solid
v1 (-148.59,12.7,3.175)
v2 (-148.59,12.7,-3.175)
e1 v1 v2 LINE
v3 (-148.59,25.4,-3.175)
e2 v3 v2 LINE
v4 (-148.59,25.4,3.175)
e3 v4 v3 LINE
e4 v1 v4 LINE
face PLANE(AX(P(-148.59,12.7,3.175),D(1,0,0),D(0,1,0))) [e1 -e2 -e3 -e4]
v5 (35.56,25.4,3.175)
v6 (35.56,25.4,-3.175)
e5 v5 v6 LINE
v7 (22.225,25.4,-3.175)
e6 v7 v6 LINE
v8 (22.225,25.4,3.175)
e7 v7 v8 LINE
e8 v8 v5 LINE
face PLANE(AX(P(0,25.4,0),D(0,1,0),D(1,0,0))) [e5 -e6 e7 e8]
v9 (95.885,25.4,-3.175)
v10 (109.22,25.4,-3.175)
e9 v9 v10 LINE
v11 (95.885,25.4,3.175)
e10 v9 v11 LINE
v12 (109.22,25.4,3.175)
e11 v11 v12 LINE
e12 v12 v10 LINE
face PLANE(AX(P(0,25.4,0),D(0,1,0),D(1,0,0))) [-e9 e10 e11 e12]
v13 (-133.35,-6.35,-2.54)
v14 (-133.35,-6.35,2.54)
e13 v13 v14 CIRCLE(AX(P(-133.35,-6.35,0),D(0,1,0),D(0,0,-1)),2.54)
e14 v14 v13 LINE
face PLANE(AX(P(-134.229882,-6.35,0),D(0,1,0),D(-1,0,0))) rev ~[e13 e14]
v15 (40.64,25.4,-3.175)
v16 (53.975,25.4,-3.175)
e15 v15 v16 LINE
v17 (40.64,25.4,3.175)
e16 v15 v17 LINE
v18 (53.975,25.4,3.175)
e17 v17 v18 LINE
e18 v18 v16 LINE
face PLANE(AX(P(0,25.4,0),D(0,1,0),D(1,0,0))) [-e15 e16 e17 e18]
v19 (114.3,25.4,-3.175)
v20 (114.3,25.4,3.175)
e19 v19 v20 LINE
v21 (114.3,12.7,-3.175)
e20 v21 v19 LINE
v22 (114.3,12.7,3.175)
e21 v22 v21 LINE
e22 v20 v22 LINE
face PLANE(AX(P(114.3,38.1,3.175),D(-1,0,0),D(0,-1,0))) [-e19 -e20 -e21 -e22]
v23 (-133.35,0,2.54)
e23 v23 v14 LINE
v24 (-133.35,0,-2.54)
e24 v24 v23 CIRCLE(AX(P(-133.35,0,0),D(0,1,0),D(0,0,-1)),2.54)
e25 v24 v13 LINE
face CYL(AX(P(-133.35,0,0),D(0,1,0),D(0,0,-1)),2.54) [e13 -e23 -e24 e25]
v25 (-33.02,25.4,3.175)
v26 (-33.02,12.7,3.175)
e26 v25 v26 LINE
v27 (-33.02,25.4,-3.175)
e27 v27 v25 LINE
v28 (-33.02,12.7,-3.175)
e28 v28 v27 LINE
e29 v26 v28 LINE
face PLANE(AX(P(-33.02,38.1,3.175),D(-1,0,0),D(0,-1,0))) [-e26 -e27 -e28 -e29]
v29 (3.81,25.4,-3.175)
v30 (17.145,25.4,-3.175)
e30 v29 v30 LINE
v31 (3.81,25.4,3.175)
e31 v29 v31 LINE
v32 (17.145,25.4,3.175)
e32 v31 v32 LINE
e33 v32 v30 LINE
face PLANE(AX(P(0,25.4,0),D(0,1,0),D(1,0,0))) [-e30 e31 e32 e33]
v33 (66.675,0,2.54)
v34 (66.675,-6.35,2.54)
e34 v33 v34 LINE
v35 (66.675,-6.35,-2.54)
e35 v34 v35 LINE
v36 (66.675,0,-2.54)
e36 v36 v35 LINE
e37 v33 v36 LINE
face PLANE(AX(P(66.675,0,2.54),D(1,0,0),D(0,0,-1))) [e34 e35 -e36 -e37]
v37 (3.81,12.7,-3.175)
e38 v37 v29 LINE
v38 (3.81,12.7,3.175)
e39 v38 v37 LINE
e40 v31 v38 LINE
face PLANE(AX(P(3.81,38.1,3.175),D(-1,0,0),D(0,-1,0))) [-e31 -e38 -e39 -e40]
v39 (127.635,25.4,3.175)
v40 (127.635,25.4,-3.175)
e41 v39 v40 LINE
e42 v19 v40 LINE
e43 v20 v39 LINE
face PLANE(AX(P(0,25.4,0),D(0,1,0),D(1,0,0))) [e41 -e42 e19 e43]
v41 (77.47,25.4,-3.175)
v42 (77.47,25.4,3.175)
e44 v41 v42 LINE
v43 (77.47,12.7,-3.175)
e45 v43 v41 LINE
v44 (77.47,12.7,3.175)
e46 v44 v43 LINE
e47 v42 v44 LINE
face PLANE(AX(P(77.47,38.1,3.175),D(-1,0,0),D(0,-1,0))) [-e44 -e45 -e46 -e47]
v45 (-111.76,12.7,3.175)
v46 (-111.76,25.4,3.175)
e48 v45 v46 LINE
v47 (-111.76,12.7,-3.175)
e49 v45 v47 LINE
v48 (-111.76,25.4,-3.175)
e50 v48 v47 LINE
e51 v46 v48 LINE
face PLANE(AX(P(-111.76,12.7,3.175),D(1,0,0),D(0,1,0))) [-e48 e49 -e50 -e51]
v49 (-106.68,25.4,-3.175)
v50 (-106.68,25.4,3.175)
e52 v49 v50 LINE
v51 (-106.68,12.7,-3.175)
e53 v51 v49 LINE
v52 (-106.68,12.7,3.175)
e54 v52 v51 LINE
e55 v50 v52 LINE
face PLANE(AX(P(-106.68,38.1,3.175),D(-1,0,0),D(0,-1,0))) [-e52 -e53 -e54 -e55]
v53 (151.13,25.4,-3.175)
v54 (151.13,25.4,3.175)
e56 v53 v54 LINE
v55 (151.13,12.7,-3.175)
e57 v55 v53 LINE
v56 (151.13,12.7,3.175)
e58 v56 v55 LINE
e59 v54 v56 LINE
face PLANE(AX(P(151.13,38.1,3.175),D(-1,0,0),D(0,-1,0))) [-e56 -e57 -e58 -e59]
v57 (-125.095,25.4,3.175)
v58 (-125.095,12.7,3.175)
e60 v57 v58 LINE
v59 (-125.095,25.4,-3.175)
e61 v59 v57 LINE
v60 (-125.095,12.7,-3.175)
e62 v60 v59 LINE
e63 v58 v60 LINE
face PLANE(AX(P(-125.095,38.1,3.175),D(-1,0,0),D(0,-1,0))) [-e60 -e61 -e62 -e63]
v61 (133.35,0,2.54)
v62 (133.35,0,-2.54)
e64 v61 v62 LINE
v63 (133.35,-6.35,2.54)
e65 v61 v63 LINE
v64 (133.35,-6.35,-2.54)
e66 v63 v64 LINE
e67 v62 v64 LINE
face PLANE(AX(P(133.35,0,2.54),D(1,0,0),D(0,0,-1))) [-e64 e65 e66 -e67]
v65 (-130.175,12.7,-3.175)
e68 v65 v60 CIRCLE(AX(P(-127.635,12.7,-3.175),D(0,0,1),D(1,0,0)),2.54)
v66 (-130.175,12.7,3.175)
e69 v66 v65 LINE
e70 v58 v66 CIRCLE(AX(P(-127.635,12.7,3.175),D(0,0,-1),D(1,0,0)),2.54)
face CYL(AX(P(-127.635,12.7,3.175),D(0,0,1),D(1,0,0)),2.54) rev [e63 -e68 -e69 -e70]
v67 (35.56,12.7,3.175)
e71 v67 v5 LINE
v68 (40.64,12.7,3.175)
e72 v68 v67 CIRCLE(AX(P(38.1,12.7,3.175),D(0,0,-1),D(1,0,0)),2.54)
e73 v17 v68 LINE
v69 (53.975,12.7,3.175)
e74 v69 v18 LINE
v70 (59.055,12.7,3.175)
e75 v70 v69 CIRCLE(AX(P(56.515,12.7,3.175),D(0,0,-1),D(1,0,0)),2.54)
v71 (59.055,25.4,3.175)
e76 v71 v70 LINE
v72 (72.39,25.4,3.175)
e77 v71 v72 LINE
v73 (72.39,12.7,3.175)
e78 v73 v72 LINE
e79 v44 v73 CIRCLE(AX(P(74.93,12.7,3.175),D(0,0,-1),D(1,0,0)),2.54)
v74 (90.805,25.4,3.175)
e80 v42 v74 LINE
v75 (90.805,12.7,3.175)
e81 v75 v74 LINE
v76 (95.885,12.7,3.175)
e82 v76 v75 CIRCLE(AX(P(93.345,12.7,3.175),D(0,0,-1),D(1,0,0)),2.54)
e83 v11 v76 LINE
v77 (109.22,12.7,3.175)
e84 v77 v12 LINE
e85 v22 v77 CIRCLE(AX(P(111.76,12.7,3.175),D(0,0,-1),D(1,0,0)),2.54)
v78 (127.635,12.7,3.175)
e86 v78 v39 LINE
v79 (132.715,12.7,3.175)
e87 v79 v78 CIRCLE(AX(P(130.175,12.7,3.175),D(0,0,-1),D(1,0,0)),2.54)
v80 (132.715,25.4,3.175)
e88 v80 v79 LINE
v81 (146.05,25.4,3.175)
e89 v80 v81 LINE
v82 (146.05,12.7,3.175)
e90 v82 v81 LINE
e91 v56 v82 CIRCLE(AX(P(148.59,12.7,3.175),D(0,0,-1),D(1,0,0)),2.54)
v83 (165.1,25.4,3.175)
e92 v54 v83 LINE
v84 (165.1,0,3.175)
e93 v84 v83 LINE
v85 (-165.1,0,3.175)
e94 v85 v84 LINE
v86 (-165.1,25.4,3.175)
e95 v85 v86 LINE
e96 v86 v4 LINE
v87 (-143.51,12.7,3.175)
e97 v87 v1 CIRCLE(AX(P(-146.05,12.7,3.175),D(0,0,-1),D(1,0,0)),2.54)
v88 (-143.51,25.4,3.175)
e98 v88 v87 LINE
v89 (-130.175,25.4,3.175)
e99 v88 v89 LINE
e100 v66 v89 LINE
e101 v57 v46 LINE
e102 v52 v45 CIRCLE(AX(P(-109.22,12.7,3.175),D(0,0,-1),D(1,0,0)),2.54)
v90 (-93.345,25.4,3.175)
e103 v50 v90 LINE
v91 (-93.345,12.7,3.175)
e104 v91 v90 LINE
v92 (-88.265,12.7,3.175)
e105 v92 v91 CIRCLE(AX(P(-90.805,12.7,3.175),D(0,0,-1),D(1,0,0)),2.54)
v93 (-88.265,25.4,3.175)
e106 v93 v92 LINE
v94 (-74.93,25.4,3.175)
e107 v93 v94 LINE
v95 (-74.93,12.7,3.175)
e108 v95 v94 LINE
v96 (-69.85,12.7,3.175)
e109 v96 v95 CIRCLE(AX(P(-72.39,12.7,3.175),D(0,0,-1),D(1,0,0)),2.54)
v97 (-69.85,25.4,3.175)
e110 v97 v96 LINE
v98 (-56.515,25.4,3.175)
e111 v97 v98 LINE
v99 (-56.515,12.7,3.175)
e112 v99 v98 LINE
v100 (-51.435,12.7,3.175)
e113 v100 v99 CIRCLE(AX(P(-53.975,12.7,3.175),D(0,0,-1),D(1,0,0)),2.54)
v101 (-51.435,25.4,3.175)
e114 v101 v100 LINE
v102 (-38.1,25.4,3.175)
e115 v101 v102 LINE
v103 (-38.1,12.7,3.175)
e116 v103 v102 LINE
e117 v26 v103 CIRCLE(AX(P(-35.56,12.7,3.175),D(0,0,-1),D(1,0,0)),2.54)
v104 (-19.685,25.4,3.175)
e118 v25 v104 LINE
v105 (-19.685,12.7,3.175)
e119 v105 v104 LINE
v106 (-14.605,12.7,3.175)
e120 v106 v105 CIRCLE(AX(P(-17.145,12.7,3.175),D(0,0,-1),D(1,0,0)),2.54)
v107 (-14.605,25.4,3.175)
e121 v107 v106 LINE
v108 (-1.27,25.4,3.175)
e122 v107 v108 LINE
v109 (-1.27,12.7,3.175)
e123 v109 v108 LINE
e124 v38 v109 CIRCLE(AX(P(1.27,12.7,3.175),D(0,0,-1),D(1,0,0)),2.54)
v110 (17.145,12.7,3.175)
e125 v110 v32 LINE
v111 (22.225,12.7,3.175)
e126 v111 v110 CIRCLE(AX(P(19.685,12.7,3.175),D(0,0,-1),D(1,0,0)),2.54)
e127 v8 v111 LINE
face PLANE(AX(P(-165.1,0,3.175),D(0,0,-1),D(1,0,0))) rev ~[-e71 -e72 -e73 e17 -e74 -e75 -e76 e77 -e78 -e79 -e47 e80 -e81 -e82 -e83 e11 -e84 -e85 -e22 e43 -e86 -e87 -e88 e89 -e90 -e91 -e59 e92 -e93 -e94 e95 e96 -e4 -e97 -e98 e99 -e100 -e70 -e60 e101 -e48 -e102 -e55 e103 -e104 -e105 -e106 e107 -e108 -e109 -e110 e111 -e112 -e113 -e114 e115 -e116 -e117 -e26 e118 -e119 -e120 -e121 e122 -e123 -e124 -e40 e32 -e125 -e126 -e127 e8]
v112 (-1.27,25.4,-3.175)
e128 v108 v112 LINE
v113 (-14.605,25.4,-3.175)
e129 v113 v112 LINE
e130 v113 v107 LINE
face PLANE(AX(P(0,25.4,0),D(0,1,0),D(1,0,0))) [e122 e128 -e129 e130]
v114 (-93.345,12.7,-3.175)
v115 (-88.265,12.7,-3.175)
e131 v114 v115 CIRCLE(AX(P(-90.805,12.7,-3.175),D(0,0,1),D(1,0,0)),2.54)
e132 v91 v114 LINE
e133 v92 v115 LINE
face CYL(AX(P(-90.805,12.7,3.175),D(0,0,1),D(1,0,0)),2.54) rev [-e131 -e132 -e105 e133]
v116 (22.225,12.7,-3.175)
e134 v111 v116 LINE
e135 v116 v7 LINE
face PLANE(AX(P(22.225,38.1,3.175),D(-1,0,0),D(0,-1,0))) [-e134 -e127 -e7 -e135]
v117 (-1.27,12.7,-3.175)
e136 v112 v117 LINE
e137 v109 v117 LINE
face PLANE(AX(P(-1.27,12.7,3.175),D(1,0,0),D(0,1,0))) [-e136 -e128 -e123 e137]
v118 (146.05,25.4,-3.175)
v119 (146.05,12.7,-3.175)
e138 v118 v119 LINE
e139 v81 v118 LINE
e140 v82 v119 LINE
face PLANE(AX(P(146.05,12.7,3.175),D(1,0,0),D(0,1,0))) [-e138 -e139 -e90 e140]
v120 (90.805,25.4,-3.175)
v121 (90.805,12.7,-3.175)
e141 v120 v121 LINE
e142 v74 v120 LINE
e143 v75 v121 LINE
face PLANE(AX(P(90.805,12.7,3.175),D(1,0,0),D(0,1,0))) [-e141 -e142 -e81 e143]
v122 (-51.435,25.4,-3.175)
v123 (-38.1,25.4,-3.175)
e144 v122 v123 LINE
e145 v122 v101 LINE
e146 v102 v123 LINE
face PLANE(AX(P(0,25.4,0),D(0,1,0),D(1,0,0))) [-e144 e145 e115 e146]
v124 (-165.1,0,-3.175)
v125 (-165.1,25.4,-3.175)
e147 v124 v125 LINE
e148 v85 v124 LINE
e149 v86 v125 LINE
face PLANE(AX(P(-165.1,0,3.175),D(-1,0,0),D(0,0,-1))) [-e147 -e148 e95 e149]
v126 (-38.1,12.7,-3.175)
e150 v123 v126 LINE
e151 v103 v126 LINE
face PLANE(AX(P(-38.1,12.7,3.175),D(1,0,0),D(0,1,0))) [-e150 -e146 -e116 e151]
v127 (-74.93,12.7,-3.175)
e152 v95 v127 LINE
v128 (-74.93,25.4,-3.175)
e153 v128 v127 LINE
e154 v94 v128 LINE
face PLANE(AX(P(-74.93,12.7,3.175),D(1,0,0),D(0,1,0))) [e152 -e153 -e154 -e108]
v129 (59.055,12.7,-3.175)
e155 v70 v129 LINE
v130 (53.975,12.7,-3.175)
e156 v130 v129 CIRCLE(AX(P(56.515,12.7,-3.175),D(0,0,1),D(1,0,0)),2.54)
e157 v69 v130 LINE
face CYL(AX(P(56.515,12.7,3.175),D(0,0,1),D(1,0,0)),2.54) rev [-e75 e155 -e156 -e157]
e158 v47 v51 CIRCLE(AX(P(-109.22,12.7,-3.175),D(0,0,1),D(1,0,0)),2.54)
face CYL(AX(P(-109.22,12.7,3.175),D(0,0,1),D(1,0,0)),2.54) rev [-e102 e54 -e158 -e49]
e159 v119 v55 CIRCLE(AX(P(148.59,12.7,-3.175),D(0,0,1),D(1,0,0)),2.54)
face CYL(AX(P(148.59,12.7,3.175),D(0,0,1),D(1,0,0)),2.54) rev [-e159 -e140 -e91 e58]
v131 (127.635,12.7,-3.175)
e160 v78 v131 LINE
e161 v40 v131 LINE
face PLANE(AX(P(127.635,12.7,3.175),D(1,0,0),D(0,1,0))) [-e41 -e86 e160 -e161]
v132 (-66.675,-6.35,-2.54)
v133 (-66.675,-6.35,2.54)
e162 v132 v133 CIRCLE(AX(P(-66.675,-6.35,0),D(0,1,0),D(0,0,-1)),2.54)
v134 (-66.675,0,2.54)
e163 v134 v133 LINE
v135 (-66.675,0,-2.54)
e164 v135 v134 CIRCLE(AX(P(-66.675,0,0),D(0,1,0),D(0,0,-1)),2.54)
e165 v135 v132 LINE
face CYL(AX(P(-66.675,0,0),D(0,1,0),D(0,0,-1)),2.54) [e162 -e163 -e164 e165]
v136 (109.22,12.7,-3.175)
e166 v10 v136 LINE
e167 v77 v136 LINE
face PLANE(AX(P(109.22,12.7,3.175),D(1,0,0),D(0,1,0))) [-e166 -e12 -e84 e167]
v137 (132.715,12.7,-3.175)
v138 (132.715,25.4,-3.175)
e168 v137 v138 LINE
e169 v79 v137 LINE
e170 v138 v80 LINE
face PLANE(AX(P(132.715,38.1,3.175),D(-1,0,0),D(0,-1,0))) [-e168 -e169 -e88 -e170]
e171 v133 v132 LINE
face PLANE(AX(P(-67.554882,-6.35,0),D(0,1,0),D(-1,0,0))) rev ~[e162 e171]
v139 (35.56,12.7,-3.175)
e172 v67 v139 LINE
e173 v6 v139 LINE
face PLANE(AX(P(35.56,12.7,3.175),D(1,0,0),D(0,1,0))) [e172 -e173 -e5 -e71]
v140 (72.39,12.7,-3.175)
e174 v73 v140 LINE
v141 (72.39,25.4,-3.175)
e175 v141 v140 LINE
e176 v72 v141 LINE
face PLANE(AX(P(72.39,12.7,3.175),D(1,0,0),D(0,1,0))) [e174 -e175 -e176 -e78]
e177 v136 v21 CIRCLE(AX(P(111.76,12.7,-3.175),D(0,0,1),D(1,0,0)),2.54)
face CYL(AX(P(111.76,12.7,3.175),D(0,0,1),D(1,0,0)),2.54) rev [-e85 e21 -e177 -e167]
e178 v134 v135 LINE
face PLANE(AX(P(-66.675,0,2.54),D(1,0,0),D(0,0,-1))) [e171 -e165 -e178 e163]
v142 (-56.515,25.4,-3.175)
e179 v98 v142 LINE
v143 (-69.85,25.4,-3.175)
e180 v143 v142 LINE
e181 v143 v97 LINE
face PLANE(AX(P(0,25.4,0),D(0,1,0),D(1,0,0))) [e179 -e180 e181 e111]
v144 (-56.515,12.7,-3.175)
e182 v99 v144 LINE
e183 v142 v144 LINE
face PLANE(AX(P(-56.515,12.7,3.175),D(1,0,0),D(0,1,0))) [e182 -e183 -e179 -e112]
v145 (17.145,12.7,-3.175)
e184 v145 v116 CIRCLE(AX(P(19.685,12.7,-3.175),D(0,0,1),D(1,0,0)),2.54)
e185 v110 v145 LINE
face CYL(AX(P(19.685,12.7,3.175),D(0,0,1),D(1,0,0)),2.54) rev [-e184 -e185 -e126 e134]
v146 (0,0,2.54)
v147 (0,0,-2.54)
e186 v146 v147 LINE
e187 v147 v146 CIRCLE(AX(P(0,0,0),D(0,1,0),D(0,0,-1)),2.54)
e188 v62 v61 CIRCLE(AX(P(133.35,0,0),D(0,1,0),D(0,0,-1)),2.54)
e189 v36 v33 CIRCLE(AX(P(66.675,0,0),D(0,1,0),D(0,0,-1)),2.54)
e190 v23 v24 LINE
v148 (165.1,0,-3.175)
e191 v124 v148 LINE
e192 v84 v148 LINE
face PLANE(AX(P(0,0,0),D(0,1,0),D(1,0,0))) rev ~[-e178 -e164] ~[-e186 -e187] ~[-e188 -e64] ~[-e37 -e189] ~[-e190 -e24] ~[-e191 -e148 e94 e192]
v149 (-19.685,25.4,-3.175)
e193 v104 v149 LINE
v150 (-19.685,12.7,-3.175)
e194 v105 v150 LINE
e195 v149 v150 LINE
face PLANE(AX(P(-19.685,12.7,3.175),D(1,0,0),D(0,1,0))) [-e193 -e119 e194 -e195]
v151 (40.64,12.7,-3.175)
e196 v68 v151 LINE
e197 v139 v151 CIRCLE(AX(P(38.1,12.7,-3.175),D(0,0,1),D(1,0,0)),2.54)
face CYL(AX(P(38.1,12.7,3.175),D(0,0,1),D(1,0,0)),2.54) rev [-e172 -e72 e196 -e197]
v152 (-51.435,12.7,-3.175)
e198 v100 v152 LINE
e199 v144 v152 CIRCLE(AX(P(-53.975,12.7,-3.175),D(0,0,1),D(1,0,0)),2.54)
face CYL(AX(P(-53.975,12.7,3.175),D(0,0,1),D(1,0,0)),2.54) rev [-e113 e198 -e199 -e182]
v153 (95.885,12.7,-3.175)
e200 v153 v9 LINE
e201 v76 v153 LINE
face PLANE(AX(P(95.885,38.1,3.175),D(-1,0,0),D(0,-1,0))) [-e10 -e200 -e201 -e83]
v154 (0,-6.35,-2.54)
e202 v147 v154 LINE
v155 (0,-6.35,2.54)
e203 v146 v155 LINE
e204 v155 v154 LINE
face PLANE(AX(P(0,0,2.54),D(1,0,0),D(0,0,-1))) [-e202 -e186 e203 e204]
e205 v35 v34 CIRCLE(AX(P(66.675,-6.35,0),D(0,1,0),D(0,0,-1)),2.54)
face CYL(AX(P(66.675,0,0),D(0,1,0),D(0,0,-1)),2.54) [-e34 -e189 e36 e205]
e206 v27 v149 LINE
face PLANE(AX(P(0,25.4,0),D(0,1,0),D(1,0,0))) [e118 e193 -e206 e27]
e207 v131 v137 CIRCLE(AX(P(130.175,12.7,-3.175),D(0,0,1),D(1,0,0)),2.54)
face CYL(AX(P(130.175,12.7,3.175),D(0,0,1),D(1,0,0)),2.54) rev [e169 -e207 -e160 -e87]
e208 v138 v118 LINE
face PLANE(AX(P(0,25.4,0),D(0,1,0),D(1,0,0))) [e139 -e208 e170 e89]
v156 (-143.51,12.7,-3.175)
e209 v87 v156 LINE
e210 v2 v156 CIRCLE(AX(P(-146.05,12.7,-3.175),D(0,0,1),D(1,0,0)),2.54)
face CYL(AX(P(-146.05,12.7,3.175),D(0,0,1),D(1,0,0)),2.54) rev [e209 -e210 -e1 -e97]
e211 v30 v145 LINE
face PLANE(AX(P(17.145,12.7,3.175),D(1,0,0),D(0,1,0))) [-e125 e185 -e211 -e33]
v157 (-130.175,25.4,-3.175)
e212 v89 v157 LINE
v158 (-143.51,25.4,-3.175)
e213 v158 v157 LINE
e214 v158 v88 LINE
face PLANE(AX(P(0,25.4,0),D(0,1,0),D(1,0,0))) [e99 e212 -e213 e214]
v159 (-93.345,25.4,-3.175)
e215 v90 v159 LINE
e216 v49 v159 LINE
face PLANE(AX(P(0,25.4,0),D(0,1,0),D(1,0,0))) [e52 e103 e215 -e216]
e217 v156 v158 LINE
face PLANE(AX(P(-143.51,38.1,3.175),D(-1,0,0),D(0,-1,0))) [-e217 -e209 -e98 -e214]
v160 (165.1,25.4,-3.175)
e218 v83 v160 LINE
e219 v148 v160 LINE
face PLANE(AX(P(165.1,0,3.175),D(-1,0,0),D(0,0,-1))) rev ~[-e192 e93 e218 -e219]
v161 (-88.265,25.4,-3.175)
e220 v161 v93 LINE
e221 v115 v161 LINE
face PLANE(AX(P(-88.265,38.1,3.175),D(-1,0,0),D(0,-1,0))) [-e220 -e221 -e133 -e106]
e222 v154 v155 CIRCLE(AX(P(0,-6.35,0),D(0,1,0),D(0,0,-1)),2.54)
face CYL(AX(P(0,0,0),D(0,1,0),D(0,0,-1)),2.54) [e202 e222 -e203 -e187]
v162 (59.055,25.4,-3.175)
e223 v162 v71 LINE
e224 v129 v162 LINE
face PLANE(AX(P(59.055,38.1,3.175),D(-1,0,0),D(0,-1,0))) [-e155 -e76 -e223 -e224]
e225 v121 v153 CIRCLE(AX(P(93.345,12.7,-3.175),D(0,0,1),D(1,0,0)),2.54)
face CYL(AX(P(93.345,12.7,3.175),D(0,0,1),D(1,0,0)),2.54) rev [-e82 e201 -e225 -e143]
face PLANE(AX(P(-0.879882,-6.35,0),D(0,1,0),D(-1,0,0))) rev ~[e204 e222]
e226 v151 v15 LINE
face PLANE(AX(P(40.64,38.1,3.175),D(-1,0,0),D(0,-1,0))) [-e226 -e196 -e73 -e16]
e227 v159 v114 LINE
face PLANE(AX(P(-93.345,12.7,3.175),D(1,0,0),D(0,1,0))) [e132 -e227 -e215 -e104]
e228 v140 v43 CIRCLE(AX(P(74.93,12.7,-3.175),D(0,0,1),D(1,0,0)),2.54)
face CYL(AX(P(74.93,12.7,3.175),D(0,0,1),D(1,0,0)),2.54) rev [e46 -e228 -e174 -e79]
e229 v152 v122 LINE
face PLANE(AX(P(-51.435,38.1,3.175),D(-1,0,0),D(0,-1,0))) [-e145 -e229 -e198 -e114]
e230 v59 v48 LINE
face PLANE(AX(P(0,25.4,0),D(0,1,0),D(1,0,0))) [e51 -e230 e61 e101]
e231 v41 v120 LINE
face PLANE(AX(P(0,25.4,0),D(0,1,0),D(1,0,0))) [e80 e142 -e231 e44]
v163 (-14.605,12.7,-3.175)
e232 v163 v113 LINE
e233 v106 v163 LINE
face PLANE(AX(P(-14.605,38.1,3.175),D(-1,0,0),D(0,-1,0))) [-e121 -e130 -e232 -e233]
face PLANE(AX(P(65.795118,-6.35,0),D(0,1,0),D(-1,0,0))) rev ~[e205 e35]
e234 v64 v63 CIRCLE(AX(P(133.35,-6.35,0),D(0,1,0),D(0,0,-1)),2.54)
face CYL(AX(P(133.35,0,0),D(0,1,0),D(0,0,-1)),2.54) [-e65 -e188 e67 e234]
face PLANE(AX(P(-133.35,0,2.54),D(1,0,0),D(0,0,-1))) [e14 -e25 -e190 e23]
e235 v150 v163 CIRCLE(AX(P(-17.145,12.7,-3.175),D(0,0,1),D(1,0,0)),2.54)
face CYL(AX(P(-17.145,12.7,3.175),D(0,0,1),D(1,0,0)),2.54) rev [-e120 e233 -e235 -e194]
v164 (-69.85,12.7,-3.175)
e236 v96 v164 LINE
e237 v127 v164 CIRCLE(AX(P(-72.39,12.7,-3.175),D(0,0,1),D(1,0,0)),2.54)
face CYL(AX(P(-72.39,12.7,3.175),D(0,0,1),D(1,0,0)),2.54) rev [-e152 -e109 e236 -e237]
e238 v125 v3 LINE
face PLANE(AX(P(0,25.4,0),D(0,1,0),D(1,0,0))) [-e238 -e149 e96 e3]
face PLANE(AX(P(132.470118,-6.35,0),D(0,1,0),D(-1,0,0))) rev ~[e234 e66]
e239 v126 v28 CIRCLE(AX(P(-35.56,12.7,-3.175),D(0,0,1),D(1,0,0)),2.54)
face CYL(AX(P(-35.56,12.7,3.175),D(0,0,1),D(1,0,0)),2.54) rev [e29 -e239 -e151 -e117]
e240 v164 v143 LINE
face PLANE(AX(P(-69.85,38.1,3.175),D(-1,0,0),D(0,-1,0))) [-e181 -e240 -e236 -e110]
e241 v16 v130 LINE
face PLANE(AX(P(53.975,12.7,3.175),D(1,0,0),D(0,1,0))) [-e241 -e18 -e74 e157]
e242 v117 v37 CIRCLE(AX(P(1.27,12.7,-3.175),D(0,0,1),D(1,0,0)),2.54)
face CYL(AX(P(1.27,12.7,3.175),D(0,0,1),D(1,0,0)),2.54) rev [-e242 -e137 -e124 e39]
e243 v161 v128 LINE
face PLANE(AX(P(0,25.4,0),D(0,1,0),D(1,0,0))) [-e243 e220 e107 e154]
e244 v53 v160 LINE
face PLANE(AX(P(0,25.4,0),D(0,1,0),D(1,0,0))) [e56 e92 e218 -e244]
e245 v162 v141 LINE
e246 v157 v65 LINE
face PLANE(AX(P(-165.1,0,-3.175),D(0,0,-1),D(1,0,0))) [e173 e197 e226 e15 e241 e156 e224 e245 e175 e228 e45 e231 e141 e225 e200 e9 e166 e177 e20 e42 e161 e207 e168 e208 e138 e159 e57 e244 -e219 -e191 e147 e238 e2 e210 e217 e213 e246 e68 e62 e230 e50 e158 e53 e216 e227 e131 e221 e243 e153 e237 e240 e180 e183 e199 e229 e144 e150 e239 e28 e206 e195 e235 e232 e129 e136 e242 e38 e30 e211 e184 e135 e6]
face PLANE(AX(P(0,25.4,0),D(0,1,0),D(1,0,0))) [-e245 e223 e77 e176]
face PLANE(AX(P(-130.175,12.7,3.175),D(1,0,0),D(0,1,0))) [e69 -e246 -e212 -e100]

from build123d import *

# Parameters (mm, degrees)
SKETCH1_W           = 330.2
SKETCH1_H           = 6.35
BOSS_EXTRUDE1_DEPTH = 25.4
BOSS_EXTRUDE2_DEPTH = 6.35
CUT_EXTRUDE1_DEPTH  = 168.16307158


with BuildPart() as part:
    # Sketch1 → Boss-Extrude1 (new body)
    with BuildSketch(Plane(origin=(0, 0, 0), x_dir=(1, 0, 0), z_dir=(0, 1, 0))):
        Rectangle(SKETCH1_W, SKETCH1_H)
    extrude(amount=BOSS_EXTRUDE1_DEPTH)

    # Sketch2 → Boss-Extrude2 (add)
    with BuildSketch(Plane.XZ):
        with BuildLine():
            Line((-133.35, 2.54), (-133.35, -2.54))
            ThreePointArc((-133.35, -2.54), (-135.89, 0), (-133.35, 2.54))
        make_face()
        with BuildLine():
            Line((-66.675, 2.54), (-66.675, -2.54))
            ThreePointArc((-66.675, -2.54), (-69.215, 0), (-66.675, 2.54))
        make_face()
        with BuildLine():
            Line((0, 2.54), (0, -2.54))
            ThreePointArc((0, -2.54), (-2.54, 0), (0, 2.54))
        make_face()
        with BuildLine():
            Line((66.675, 2.54), (66.675, -2.54))
            ThreePointArc((66.675, -2.54), (64.135, 0), (66.675, 2.54))
        make_face()
        with BuildLine():
            Line((133.35, 2.54), (133.35, -2.54))
            ThreePointArc((133.35, -2.54), (130.81, 0), (133.35, 2.54))
        make_face()
    extrude(amount=BOSS_EXTRUDE2_DEPTH)

    # Sketch3 → Cut-Extrude1 (cut, through all)
    with BuildSketch(Plane.XY.offset(3.175)):
        with BuildLine():
            Line((-143.51, 38.1), (-143.51, 12.7))
            ThreePointArc((-143.51, 12.7), (-146.05, 10.16), (-148.59, 12.7))
            Line((-148.59, 12.7), (-148.59, 38.1))
            ThreePointArc((-148.59, 38.1), (-146.05, 40.64), (-143.51, 38.1))
        make_face()
        with BuildLine():
            Line((-125.095, 38.1), (-125.095, 12.7))
            ThreePointArc((-125.095, 12.7), (-127.635, 10.16), (-130.175, 12.7))
            Line((-130.175, 12.7), (-130.175, 38.1))
            ThreePointArc((-130.175, 38.1), (-127.635, 40.64), (-125.095, 38.1))
        make_face()
        with BuildLine():
            Line((-106.68, 38.1), (-106.68, 12.7))
            ThreePointArc((-106.68, 12.7), (-109.22, 10.16), (-111.76, 12.7))
            Line((-111.76, 12.7), (-111.76, 38.1))
            ThreePointArc((-111.76, 38.1), (-109.22, 40.64), (-106.68, 38.1))
        make_face()
        with BuildLine():
            Line((-88.265, 38.1), (-88.265, 12.7))
            ThreePointArc((-88.265, 12.7), (-90.805, 10.16), (-93.345, 12.7))
            Line((-93.345, 12.7), (-93.345, 38.1))
            ThreePointArc((-93.345, 38.1), (-90.805, 40.64), (-88.265, 38.1))
        make_face()
        with BuildLine():
            Line((-69.85, 38.1), (-69.85, 12.7))
            ThreePointArc((-69.85, 12.7), (-72.39, 10.16), (-74.93, 12.7))
            Line((-74.93, 12.7), (-74.93, 38.1))
            ThreePointArc((-74.93, 38.1), (-72.39, 40.64), (-69.85, 38.1))
        make_face()
        with BuildLine():
            Line((-51.435, 38.1), (-51.435, 12.7))
            ThreePointArc((-51.435, 12.7), (-53.975, 10.16), (-56.515, 12.7))
            Line((-56.515, 12.7), (-56.515, 38.1))
            ThreePointArc((-56.515, 38.1), (-53.975, 40.64), (-51.435, 38.1))
        make_face()
        with BuildLine():
            Line((-33.02, 38.1), (-33.02, 12.7))
            ThreePointArc((-33.02, 12.7), (-35.56, 10.16), (-38.1, 12.7))
            Line((-38.1, 12.7), (-38.1, 38.1))
            ThreePointArc((-38.1, 38.1), (-35.56, 40.64), (-33.02, 38.1))
        make_face()
        with BuildLine():
            Line((-14.605, 38.1), (-14.605, 12.7))
            ThreePointArc((-14.605, 12.7), (-17.145, 10.16), (-19.685, 12.7))
            Line((-19.685, 12.7), (-19.685, 38.1))
            ThreePointArc((-19.685, 38.1), (-17.145, 40.64), (-14.605, 38.1))
        make_face()
        with BuildLine():
            Line((3.81, 38.1), (3.81, 12.7))
            ThreePointArc((3.81, 12.7), (1.27, 10.16), (-1.27, 12.7))
            Line((-1.27, 12.7), (-1.27, 38.1))
            ThreePointArc((-1.27, 38.1), (1.27, 40.64), (3.81, 38.1))
        make_face()
        with BuildLine():
            Line((22.225, 38.1), (22.225, 12.7))
            ThreePointArc((22.225, 12.7), (19.685, 10.16), (17.145, 12.7))
            Line((17.145, 12.7), (17.145, 38.1))
            ThreePointArc((17.145, 38.1), (19.685, 40.64), (22.225, 38.1))
        make_face()
        with BuildLine():
            Line((40.64, 38.1), (40.64, 12.7))
            ThreePointArc((40.64, 12.7), (38.1, 10.16), (35.56, 12.7))
            Line((35.56, 12.7), (35.56, 38.1))
            ThreePointArc((35.56, 38.1), (38.1, 40.64), (40.64, 38.1))
        make_face()
        with BuildLine():
            Line((59.055, 38.1), (59.055, 12.7))
            ThreePointArc((59.055, 12.7), (56.515, 10.16), (53.975, 12.7))
            Line((53.975, 12.7), (53.975, 38.1))
            ThreePointArc((53.975, 38.1), (56.515, 40.64), (59.055, 38.1))
        make_face()
        with BuildLine():
            Line((77.47, 38.1), (77.47, 12.7))
            ThreePointArc((77.47, 12.7), (74.93, 10.16), (72.39, 12.7))
            Line((72.39, 12.7), (72.39, 38.1))
            ThreePointArc((72.39, 38.1), (74.93, 40.64), (77.47, 38.1))
        make_face()
        with BuildLine():
            Line((95.885, 38.1), (95.885, 12.7))
            ThreePointArc((95.885, 12.7), (93.345, 10.16), (90.805, 12.7))
            Line((90.805, 12.7), (90.805, 38.1))
            ThreePointArc((90.805, 38.1), (93.345, 40.64), (95.885, 38.1))
        make_face()
        with BuildLine():
            Line((114.3, 38.1), (114.3, 12.7))
            ThreePointArc((114.3, 12.7), (111.76, 10.16), (109.22, 12.7))
            Line((109.22, 12.7), (109.22, 38.1))
            ThreePointArc((109.22, 38.1), (111.76, 40.64), (114.3, 38.1))
        make_face()
        with BuildLine():
            Line((132.715, 38.1), (132.715, 12.7))
            ThreePointArc((132.715, 12.7), (130.175, 10.16), (127.635, 12.7))
            Line((127.635, 12.7), (127.635, 38.1))
            ThreePointArc((127.635, 38.1), (130.175, 40.64), (132.715, 38.1))
        make_face()
        with BuildLine():
            Line((151.13, 38.1), (151.13, 12.7))
            ThreePointArc((151.13, 12.7), (148.59, 10.16), (146.05, 12.7))
            Line((146.05, 12.7), (146.05, 38.1))
            ThreePointArc((146.05, 38.1), (148.59, 40.64), (151.13, 38.1))
        make_face()
    extrude(amount=-CUT_EXTRUDE1_DEPTH, mode=Mode.SUBTRACT)


solid = part.part
